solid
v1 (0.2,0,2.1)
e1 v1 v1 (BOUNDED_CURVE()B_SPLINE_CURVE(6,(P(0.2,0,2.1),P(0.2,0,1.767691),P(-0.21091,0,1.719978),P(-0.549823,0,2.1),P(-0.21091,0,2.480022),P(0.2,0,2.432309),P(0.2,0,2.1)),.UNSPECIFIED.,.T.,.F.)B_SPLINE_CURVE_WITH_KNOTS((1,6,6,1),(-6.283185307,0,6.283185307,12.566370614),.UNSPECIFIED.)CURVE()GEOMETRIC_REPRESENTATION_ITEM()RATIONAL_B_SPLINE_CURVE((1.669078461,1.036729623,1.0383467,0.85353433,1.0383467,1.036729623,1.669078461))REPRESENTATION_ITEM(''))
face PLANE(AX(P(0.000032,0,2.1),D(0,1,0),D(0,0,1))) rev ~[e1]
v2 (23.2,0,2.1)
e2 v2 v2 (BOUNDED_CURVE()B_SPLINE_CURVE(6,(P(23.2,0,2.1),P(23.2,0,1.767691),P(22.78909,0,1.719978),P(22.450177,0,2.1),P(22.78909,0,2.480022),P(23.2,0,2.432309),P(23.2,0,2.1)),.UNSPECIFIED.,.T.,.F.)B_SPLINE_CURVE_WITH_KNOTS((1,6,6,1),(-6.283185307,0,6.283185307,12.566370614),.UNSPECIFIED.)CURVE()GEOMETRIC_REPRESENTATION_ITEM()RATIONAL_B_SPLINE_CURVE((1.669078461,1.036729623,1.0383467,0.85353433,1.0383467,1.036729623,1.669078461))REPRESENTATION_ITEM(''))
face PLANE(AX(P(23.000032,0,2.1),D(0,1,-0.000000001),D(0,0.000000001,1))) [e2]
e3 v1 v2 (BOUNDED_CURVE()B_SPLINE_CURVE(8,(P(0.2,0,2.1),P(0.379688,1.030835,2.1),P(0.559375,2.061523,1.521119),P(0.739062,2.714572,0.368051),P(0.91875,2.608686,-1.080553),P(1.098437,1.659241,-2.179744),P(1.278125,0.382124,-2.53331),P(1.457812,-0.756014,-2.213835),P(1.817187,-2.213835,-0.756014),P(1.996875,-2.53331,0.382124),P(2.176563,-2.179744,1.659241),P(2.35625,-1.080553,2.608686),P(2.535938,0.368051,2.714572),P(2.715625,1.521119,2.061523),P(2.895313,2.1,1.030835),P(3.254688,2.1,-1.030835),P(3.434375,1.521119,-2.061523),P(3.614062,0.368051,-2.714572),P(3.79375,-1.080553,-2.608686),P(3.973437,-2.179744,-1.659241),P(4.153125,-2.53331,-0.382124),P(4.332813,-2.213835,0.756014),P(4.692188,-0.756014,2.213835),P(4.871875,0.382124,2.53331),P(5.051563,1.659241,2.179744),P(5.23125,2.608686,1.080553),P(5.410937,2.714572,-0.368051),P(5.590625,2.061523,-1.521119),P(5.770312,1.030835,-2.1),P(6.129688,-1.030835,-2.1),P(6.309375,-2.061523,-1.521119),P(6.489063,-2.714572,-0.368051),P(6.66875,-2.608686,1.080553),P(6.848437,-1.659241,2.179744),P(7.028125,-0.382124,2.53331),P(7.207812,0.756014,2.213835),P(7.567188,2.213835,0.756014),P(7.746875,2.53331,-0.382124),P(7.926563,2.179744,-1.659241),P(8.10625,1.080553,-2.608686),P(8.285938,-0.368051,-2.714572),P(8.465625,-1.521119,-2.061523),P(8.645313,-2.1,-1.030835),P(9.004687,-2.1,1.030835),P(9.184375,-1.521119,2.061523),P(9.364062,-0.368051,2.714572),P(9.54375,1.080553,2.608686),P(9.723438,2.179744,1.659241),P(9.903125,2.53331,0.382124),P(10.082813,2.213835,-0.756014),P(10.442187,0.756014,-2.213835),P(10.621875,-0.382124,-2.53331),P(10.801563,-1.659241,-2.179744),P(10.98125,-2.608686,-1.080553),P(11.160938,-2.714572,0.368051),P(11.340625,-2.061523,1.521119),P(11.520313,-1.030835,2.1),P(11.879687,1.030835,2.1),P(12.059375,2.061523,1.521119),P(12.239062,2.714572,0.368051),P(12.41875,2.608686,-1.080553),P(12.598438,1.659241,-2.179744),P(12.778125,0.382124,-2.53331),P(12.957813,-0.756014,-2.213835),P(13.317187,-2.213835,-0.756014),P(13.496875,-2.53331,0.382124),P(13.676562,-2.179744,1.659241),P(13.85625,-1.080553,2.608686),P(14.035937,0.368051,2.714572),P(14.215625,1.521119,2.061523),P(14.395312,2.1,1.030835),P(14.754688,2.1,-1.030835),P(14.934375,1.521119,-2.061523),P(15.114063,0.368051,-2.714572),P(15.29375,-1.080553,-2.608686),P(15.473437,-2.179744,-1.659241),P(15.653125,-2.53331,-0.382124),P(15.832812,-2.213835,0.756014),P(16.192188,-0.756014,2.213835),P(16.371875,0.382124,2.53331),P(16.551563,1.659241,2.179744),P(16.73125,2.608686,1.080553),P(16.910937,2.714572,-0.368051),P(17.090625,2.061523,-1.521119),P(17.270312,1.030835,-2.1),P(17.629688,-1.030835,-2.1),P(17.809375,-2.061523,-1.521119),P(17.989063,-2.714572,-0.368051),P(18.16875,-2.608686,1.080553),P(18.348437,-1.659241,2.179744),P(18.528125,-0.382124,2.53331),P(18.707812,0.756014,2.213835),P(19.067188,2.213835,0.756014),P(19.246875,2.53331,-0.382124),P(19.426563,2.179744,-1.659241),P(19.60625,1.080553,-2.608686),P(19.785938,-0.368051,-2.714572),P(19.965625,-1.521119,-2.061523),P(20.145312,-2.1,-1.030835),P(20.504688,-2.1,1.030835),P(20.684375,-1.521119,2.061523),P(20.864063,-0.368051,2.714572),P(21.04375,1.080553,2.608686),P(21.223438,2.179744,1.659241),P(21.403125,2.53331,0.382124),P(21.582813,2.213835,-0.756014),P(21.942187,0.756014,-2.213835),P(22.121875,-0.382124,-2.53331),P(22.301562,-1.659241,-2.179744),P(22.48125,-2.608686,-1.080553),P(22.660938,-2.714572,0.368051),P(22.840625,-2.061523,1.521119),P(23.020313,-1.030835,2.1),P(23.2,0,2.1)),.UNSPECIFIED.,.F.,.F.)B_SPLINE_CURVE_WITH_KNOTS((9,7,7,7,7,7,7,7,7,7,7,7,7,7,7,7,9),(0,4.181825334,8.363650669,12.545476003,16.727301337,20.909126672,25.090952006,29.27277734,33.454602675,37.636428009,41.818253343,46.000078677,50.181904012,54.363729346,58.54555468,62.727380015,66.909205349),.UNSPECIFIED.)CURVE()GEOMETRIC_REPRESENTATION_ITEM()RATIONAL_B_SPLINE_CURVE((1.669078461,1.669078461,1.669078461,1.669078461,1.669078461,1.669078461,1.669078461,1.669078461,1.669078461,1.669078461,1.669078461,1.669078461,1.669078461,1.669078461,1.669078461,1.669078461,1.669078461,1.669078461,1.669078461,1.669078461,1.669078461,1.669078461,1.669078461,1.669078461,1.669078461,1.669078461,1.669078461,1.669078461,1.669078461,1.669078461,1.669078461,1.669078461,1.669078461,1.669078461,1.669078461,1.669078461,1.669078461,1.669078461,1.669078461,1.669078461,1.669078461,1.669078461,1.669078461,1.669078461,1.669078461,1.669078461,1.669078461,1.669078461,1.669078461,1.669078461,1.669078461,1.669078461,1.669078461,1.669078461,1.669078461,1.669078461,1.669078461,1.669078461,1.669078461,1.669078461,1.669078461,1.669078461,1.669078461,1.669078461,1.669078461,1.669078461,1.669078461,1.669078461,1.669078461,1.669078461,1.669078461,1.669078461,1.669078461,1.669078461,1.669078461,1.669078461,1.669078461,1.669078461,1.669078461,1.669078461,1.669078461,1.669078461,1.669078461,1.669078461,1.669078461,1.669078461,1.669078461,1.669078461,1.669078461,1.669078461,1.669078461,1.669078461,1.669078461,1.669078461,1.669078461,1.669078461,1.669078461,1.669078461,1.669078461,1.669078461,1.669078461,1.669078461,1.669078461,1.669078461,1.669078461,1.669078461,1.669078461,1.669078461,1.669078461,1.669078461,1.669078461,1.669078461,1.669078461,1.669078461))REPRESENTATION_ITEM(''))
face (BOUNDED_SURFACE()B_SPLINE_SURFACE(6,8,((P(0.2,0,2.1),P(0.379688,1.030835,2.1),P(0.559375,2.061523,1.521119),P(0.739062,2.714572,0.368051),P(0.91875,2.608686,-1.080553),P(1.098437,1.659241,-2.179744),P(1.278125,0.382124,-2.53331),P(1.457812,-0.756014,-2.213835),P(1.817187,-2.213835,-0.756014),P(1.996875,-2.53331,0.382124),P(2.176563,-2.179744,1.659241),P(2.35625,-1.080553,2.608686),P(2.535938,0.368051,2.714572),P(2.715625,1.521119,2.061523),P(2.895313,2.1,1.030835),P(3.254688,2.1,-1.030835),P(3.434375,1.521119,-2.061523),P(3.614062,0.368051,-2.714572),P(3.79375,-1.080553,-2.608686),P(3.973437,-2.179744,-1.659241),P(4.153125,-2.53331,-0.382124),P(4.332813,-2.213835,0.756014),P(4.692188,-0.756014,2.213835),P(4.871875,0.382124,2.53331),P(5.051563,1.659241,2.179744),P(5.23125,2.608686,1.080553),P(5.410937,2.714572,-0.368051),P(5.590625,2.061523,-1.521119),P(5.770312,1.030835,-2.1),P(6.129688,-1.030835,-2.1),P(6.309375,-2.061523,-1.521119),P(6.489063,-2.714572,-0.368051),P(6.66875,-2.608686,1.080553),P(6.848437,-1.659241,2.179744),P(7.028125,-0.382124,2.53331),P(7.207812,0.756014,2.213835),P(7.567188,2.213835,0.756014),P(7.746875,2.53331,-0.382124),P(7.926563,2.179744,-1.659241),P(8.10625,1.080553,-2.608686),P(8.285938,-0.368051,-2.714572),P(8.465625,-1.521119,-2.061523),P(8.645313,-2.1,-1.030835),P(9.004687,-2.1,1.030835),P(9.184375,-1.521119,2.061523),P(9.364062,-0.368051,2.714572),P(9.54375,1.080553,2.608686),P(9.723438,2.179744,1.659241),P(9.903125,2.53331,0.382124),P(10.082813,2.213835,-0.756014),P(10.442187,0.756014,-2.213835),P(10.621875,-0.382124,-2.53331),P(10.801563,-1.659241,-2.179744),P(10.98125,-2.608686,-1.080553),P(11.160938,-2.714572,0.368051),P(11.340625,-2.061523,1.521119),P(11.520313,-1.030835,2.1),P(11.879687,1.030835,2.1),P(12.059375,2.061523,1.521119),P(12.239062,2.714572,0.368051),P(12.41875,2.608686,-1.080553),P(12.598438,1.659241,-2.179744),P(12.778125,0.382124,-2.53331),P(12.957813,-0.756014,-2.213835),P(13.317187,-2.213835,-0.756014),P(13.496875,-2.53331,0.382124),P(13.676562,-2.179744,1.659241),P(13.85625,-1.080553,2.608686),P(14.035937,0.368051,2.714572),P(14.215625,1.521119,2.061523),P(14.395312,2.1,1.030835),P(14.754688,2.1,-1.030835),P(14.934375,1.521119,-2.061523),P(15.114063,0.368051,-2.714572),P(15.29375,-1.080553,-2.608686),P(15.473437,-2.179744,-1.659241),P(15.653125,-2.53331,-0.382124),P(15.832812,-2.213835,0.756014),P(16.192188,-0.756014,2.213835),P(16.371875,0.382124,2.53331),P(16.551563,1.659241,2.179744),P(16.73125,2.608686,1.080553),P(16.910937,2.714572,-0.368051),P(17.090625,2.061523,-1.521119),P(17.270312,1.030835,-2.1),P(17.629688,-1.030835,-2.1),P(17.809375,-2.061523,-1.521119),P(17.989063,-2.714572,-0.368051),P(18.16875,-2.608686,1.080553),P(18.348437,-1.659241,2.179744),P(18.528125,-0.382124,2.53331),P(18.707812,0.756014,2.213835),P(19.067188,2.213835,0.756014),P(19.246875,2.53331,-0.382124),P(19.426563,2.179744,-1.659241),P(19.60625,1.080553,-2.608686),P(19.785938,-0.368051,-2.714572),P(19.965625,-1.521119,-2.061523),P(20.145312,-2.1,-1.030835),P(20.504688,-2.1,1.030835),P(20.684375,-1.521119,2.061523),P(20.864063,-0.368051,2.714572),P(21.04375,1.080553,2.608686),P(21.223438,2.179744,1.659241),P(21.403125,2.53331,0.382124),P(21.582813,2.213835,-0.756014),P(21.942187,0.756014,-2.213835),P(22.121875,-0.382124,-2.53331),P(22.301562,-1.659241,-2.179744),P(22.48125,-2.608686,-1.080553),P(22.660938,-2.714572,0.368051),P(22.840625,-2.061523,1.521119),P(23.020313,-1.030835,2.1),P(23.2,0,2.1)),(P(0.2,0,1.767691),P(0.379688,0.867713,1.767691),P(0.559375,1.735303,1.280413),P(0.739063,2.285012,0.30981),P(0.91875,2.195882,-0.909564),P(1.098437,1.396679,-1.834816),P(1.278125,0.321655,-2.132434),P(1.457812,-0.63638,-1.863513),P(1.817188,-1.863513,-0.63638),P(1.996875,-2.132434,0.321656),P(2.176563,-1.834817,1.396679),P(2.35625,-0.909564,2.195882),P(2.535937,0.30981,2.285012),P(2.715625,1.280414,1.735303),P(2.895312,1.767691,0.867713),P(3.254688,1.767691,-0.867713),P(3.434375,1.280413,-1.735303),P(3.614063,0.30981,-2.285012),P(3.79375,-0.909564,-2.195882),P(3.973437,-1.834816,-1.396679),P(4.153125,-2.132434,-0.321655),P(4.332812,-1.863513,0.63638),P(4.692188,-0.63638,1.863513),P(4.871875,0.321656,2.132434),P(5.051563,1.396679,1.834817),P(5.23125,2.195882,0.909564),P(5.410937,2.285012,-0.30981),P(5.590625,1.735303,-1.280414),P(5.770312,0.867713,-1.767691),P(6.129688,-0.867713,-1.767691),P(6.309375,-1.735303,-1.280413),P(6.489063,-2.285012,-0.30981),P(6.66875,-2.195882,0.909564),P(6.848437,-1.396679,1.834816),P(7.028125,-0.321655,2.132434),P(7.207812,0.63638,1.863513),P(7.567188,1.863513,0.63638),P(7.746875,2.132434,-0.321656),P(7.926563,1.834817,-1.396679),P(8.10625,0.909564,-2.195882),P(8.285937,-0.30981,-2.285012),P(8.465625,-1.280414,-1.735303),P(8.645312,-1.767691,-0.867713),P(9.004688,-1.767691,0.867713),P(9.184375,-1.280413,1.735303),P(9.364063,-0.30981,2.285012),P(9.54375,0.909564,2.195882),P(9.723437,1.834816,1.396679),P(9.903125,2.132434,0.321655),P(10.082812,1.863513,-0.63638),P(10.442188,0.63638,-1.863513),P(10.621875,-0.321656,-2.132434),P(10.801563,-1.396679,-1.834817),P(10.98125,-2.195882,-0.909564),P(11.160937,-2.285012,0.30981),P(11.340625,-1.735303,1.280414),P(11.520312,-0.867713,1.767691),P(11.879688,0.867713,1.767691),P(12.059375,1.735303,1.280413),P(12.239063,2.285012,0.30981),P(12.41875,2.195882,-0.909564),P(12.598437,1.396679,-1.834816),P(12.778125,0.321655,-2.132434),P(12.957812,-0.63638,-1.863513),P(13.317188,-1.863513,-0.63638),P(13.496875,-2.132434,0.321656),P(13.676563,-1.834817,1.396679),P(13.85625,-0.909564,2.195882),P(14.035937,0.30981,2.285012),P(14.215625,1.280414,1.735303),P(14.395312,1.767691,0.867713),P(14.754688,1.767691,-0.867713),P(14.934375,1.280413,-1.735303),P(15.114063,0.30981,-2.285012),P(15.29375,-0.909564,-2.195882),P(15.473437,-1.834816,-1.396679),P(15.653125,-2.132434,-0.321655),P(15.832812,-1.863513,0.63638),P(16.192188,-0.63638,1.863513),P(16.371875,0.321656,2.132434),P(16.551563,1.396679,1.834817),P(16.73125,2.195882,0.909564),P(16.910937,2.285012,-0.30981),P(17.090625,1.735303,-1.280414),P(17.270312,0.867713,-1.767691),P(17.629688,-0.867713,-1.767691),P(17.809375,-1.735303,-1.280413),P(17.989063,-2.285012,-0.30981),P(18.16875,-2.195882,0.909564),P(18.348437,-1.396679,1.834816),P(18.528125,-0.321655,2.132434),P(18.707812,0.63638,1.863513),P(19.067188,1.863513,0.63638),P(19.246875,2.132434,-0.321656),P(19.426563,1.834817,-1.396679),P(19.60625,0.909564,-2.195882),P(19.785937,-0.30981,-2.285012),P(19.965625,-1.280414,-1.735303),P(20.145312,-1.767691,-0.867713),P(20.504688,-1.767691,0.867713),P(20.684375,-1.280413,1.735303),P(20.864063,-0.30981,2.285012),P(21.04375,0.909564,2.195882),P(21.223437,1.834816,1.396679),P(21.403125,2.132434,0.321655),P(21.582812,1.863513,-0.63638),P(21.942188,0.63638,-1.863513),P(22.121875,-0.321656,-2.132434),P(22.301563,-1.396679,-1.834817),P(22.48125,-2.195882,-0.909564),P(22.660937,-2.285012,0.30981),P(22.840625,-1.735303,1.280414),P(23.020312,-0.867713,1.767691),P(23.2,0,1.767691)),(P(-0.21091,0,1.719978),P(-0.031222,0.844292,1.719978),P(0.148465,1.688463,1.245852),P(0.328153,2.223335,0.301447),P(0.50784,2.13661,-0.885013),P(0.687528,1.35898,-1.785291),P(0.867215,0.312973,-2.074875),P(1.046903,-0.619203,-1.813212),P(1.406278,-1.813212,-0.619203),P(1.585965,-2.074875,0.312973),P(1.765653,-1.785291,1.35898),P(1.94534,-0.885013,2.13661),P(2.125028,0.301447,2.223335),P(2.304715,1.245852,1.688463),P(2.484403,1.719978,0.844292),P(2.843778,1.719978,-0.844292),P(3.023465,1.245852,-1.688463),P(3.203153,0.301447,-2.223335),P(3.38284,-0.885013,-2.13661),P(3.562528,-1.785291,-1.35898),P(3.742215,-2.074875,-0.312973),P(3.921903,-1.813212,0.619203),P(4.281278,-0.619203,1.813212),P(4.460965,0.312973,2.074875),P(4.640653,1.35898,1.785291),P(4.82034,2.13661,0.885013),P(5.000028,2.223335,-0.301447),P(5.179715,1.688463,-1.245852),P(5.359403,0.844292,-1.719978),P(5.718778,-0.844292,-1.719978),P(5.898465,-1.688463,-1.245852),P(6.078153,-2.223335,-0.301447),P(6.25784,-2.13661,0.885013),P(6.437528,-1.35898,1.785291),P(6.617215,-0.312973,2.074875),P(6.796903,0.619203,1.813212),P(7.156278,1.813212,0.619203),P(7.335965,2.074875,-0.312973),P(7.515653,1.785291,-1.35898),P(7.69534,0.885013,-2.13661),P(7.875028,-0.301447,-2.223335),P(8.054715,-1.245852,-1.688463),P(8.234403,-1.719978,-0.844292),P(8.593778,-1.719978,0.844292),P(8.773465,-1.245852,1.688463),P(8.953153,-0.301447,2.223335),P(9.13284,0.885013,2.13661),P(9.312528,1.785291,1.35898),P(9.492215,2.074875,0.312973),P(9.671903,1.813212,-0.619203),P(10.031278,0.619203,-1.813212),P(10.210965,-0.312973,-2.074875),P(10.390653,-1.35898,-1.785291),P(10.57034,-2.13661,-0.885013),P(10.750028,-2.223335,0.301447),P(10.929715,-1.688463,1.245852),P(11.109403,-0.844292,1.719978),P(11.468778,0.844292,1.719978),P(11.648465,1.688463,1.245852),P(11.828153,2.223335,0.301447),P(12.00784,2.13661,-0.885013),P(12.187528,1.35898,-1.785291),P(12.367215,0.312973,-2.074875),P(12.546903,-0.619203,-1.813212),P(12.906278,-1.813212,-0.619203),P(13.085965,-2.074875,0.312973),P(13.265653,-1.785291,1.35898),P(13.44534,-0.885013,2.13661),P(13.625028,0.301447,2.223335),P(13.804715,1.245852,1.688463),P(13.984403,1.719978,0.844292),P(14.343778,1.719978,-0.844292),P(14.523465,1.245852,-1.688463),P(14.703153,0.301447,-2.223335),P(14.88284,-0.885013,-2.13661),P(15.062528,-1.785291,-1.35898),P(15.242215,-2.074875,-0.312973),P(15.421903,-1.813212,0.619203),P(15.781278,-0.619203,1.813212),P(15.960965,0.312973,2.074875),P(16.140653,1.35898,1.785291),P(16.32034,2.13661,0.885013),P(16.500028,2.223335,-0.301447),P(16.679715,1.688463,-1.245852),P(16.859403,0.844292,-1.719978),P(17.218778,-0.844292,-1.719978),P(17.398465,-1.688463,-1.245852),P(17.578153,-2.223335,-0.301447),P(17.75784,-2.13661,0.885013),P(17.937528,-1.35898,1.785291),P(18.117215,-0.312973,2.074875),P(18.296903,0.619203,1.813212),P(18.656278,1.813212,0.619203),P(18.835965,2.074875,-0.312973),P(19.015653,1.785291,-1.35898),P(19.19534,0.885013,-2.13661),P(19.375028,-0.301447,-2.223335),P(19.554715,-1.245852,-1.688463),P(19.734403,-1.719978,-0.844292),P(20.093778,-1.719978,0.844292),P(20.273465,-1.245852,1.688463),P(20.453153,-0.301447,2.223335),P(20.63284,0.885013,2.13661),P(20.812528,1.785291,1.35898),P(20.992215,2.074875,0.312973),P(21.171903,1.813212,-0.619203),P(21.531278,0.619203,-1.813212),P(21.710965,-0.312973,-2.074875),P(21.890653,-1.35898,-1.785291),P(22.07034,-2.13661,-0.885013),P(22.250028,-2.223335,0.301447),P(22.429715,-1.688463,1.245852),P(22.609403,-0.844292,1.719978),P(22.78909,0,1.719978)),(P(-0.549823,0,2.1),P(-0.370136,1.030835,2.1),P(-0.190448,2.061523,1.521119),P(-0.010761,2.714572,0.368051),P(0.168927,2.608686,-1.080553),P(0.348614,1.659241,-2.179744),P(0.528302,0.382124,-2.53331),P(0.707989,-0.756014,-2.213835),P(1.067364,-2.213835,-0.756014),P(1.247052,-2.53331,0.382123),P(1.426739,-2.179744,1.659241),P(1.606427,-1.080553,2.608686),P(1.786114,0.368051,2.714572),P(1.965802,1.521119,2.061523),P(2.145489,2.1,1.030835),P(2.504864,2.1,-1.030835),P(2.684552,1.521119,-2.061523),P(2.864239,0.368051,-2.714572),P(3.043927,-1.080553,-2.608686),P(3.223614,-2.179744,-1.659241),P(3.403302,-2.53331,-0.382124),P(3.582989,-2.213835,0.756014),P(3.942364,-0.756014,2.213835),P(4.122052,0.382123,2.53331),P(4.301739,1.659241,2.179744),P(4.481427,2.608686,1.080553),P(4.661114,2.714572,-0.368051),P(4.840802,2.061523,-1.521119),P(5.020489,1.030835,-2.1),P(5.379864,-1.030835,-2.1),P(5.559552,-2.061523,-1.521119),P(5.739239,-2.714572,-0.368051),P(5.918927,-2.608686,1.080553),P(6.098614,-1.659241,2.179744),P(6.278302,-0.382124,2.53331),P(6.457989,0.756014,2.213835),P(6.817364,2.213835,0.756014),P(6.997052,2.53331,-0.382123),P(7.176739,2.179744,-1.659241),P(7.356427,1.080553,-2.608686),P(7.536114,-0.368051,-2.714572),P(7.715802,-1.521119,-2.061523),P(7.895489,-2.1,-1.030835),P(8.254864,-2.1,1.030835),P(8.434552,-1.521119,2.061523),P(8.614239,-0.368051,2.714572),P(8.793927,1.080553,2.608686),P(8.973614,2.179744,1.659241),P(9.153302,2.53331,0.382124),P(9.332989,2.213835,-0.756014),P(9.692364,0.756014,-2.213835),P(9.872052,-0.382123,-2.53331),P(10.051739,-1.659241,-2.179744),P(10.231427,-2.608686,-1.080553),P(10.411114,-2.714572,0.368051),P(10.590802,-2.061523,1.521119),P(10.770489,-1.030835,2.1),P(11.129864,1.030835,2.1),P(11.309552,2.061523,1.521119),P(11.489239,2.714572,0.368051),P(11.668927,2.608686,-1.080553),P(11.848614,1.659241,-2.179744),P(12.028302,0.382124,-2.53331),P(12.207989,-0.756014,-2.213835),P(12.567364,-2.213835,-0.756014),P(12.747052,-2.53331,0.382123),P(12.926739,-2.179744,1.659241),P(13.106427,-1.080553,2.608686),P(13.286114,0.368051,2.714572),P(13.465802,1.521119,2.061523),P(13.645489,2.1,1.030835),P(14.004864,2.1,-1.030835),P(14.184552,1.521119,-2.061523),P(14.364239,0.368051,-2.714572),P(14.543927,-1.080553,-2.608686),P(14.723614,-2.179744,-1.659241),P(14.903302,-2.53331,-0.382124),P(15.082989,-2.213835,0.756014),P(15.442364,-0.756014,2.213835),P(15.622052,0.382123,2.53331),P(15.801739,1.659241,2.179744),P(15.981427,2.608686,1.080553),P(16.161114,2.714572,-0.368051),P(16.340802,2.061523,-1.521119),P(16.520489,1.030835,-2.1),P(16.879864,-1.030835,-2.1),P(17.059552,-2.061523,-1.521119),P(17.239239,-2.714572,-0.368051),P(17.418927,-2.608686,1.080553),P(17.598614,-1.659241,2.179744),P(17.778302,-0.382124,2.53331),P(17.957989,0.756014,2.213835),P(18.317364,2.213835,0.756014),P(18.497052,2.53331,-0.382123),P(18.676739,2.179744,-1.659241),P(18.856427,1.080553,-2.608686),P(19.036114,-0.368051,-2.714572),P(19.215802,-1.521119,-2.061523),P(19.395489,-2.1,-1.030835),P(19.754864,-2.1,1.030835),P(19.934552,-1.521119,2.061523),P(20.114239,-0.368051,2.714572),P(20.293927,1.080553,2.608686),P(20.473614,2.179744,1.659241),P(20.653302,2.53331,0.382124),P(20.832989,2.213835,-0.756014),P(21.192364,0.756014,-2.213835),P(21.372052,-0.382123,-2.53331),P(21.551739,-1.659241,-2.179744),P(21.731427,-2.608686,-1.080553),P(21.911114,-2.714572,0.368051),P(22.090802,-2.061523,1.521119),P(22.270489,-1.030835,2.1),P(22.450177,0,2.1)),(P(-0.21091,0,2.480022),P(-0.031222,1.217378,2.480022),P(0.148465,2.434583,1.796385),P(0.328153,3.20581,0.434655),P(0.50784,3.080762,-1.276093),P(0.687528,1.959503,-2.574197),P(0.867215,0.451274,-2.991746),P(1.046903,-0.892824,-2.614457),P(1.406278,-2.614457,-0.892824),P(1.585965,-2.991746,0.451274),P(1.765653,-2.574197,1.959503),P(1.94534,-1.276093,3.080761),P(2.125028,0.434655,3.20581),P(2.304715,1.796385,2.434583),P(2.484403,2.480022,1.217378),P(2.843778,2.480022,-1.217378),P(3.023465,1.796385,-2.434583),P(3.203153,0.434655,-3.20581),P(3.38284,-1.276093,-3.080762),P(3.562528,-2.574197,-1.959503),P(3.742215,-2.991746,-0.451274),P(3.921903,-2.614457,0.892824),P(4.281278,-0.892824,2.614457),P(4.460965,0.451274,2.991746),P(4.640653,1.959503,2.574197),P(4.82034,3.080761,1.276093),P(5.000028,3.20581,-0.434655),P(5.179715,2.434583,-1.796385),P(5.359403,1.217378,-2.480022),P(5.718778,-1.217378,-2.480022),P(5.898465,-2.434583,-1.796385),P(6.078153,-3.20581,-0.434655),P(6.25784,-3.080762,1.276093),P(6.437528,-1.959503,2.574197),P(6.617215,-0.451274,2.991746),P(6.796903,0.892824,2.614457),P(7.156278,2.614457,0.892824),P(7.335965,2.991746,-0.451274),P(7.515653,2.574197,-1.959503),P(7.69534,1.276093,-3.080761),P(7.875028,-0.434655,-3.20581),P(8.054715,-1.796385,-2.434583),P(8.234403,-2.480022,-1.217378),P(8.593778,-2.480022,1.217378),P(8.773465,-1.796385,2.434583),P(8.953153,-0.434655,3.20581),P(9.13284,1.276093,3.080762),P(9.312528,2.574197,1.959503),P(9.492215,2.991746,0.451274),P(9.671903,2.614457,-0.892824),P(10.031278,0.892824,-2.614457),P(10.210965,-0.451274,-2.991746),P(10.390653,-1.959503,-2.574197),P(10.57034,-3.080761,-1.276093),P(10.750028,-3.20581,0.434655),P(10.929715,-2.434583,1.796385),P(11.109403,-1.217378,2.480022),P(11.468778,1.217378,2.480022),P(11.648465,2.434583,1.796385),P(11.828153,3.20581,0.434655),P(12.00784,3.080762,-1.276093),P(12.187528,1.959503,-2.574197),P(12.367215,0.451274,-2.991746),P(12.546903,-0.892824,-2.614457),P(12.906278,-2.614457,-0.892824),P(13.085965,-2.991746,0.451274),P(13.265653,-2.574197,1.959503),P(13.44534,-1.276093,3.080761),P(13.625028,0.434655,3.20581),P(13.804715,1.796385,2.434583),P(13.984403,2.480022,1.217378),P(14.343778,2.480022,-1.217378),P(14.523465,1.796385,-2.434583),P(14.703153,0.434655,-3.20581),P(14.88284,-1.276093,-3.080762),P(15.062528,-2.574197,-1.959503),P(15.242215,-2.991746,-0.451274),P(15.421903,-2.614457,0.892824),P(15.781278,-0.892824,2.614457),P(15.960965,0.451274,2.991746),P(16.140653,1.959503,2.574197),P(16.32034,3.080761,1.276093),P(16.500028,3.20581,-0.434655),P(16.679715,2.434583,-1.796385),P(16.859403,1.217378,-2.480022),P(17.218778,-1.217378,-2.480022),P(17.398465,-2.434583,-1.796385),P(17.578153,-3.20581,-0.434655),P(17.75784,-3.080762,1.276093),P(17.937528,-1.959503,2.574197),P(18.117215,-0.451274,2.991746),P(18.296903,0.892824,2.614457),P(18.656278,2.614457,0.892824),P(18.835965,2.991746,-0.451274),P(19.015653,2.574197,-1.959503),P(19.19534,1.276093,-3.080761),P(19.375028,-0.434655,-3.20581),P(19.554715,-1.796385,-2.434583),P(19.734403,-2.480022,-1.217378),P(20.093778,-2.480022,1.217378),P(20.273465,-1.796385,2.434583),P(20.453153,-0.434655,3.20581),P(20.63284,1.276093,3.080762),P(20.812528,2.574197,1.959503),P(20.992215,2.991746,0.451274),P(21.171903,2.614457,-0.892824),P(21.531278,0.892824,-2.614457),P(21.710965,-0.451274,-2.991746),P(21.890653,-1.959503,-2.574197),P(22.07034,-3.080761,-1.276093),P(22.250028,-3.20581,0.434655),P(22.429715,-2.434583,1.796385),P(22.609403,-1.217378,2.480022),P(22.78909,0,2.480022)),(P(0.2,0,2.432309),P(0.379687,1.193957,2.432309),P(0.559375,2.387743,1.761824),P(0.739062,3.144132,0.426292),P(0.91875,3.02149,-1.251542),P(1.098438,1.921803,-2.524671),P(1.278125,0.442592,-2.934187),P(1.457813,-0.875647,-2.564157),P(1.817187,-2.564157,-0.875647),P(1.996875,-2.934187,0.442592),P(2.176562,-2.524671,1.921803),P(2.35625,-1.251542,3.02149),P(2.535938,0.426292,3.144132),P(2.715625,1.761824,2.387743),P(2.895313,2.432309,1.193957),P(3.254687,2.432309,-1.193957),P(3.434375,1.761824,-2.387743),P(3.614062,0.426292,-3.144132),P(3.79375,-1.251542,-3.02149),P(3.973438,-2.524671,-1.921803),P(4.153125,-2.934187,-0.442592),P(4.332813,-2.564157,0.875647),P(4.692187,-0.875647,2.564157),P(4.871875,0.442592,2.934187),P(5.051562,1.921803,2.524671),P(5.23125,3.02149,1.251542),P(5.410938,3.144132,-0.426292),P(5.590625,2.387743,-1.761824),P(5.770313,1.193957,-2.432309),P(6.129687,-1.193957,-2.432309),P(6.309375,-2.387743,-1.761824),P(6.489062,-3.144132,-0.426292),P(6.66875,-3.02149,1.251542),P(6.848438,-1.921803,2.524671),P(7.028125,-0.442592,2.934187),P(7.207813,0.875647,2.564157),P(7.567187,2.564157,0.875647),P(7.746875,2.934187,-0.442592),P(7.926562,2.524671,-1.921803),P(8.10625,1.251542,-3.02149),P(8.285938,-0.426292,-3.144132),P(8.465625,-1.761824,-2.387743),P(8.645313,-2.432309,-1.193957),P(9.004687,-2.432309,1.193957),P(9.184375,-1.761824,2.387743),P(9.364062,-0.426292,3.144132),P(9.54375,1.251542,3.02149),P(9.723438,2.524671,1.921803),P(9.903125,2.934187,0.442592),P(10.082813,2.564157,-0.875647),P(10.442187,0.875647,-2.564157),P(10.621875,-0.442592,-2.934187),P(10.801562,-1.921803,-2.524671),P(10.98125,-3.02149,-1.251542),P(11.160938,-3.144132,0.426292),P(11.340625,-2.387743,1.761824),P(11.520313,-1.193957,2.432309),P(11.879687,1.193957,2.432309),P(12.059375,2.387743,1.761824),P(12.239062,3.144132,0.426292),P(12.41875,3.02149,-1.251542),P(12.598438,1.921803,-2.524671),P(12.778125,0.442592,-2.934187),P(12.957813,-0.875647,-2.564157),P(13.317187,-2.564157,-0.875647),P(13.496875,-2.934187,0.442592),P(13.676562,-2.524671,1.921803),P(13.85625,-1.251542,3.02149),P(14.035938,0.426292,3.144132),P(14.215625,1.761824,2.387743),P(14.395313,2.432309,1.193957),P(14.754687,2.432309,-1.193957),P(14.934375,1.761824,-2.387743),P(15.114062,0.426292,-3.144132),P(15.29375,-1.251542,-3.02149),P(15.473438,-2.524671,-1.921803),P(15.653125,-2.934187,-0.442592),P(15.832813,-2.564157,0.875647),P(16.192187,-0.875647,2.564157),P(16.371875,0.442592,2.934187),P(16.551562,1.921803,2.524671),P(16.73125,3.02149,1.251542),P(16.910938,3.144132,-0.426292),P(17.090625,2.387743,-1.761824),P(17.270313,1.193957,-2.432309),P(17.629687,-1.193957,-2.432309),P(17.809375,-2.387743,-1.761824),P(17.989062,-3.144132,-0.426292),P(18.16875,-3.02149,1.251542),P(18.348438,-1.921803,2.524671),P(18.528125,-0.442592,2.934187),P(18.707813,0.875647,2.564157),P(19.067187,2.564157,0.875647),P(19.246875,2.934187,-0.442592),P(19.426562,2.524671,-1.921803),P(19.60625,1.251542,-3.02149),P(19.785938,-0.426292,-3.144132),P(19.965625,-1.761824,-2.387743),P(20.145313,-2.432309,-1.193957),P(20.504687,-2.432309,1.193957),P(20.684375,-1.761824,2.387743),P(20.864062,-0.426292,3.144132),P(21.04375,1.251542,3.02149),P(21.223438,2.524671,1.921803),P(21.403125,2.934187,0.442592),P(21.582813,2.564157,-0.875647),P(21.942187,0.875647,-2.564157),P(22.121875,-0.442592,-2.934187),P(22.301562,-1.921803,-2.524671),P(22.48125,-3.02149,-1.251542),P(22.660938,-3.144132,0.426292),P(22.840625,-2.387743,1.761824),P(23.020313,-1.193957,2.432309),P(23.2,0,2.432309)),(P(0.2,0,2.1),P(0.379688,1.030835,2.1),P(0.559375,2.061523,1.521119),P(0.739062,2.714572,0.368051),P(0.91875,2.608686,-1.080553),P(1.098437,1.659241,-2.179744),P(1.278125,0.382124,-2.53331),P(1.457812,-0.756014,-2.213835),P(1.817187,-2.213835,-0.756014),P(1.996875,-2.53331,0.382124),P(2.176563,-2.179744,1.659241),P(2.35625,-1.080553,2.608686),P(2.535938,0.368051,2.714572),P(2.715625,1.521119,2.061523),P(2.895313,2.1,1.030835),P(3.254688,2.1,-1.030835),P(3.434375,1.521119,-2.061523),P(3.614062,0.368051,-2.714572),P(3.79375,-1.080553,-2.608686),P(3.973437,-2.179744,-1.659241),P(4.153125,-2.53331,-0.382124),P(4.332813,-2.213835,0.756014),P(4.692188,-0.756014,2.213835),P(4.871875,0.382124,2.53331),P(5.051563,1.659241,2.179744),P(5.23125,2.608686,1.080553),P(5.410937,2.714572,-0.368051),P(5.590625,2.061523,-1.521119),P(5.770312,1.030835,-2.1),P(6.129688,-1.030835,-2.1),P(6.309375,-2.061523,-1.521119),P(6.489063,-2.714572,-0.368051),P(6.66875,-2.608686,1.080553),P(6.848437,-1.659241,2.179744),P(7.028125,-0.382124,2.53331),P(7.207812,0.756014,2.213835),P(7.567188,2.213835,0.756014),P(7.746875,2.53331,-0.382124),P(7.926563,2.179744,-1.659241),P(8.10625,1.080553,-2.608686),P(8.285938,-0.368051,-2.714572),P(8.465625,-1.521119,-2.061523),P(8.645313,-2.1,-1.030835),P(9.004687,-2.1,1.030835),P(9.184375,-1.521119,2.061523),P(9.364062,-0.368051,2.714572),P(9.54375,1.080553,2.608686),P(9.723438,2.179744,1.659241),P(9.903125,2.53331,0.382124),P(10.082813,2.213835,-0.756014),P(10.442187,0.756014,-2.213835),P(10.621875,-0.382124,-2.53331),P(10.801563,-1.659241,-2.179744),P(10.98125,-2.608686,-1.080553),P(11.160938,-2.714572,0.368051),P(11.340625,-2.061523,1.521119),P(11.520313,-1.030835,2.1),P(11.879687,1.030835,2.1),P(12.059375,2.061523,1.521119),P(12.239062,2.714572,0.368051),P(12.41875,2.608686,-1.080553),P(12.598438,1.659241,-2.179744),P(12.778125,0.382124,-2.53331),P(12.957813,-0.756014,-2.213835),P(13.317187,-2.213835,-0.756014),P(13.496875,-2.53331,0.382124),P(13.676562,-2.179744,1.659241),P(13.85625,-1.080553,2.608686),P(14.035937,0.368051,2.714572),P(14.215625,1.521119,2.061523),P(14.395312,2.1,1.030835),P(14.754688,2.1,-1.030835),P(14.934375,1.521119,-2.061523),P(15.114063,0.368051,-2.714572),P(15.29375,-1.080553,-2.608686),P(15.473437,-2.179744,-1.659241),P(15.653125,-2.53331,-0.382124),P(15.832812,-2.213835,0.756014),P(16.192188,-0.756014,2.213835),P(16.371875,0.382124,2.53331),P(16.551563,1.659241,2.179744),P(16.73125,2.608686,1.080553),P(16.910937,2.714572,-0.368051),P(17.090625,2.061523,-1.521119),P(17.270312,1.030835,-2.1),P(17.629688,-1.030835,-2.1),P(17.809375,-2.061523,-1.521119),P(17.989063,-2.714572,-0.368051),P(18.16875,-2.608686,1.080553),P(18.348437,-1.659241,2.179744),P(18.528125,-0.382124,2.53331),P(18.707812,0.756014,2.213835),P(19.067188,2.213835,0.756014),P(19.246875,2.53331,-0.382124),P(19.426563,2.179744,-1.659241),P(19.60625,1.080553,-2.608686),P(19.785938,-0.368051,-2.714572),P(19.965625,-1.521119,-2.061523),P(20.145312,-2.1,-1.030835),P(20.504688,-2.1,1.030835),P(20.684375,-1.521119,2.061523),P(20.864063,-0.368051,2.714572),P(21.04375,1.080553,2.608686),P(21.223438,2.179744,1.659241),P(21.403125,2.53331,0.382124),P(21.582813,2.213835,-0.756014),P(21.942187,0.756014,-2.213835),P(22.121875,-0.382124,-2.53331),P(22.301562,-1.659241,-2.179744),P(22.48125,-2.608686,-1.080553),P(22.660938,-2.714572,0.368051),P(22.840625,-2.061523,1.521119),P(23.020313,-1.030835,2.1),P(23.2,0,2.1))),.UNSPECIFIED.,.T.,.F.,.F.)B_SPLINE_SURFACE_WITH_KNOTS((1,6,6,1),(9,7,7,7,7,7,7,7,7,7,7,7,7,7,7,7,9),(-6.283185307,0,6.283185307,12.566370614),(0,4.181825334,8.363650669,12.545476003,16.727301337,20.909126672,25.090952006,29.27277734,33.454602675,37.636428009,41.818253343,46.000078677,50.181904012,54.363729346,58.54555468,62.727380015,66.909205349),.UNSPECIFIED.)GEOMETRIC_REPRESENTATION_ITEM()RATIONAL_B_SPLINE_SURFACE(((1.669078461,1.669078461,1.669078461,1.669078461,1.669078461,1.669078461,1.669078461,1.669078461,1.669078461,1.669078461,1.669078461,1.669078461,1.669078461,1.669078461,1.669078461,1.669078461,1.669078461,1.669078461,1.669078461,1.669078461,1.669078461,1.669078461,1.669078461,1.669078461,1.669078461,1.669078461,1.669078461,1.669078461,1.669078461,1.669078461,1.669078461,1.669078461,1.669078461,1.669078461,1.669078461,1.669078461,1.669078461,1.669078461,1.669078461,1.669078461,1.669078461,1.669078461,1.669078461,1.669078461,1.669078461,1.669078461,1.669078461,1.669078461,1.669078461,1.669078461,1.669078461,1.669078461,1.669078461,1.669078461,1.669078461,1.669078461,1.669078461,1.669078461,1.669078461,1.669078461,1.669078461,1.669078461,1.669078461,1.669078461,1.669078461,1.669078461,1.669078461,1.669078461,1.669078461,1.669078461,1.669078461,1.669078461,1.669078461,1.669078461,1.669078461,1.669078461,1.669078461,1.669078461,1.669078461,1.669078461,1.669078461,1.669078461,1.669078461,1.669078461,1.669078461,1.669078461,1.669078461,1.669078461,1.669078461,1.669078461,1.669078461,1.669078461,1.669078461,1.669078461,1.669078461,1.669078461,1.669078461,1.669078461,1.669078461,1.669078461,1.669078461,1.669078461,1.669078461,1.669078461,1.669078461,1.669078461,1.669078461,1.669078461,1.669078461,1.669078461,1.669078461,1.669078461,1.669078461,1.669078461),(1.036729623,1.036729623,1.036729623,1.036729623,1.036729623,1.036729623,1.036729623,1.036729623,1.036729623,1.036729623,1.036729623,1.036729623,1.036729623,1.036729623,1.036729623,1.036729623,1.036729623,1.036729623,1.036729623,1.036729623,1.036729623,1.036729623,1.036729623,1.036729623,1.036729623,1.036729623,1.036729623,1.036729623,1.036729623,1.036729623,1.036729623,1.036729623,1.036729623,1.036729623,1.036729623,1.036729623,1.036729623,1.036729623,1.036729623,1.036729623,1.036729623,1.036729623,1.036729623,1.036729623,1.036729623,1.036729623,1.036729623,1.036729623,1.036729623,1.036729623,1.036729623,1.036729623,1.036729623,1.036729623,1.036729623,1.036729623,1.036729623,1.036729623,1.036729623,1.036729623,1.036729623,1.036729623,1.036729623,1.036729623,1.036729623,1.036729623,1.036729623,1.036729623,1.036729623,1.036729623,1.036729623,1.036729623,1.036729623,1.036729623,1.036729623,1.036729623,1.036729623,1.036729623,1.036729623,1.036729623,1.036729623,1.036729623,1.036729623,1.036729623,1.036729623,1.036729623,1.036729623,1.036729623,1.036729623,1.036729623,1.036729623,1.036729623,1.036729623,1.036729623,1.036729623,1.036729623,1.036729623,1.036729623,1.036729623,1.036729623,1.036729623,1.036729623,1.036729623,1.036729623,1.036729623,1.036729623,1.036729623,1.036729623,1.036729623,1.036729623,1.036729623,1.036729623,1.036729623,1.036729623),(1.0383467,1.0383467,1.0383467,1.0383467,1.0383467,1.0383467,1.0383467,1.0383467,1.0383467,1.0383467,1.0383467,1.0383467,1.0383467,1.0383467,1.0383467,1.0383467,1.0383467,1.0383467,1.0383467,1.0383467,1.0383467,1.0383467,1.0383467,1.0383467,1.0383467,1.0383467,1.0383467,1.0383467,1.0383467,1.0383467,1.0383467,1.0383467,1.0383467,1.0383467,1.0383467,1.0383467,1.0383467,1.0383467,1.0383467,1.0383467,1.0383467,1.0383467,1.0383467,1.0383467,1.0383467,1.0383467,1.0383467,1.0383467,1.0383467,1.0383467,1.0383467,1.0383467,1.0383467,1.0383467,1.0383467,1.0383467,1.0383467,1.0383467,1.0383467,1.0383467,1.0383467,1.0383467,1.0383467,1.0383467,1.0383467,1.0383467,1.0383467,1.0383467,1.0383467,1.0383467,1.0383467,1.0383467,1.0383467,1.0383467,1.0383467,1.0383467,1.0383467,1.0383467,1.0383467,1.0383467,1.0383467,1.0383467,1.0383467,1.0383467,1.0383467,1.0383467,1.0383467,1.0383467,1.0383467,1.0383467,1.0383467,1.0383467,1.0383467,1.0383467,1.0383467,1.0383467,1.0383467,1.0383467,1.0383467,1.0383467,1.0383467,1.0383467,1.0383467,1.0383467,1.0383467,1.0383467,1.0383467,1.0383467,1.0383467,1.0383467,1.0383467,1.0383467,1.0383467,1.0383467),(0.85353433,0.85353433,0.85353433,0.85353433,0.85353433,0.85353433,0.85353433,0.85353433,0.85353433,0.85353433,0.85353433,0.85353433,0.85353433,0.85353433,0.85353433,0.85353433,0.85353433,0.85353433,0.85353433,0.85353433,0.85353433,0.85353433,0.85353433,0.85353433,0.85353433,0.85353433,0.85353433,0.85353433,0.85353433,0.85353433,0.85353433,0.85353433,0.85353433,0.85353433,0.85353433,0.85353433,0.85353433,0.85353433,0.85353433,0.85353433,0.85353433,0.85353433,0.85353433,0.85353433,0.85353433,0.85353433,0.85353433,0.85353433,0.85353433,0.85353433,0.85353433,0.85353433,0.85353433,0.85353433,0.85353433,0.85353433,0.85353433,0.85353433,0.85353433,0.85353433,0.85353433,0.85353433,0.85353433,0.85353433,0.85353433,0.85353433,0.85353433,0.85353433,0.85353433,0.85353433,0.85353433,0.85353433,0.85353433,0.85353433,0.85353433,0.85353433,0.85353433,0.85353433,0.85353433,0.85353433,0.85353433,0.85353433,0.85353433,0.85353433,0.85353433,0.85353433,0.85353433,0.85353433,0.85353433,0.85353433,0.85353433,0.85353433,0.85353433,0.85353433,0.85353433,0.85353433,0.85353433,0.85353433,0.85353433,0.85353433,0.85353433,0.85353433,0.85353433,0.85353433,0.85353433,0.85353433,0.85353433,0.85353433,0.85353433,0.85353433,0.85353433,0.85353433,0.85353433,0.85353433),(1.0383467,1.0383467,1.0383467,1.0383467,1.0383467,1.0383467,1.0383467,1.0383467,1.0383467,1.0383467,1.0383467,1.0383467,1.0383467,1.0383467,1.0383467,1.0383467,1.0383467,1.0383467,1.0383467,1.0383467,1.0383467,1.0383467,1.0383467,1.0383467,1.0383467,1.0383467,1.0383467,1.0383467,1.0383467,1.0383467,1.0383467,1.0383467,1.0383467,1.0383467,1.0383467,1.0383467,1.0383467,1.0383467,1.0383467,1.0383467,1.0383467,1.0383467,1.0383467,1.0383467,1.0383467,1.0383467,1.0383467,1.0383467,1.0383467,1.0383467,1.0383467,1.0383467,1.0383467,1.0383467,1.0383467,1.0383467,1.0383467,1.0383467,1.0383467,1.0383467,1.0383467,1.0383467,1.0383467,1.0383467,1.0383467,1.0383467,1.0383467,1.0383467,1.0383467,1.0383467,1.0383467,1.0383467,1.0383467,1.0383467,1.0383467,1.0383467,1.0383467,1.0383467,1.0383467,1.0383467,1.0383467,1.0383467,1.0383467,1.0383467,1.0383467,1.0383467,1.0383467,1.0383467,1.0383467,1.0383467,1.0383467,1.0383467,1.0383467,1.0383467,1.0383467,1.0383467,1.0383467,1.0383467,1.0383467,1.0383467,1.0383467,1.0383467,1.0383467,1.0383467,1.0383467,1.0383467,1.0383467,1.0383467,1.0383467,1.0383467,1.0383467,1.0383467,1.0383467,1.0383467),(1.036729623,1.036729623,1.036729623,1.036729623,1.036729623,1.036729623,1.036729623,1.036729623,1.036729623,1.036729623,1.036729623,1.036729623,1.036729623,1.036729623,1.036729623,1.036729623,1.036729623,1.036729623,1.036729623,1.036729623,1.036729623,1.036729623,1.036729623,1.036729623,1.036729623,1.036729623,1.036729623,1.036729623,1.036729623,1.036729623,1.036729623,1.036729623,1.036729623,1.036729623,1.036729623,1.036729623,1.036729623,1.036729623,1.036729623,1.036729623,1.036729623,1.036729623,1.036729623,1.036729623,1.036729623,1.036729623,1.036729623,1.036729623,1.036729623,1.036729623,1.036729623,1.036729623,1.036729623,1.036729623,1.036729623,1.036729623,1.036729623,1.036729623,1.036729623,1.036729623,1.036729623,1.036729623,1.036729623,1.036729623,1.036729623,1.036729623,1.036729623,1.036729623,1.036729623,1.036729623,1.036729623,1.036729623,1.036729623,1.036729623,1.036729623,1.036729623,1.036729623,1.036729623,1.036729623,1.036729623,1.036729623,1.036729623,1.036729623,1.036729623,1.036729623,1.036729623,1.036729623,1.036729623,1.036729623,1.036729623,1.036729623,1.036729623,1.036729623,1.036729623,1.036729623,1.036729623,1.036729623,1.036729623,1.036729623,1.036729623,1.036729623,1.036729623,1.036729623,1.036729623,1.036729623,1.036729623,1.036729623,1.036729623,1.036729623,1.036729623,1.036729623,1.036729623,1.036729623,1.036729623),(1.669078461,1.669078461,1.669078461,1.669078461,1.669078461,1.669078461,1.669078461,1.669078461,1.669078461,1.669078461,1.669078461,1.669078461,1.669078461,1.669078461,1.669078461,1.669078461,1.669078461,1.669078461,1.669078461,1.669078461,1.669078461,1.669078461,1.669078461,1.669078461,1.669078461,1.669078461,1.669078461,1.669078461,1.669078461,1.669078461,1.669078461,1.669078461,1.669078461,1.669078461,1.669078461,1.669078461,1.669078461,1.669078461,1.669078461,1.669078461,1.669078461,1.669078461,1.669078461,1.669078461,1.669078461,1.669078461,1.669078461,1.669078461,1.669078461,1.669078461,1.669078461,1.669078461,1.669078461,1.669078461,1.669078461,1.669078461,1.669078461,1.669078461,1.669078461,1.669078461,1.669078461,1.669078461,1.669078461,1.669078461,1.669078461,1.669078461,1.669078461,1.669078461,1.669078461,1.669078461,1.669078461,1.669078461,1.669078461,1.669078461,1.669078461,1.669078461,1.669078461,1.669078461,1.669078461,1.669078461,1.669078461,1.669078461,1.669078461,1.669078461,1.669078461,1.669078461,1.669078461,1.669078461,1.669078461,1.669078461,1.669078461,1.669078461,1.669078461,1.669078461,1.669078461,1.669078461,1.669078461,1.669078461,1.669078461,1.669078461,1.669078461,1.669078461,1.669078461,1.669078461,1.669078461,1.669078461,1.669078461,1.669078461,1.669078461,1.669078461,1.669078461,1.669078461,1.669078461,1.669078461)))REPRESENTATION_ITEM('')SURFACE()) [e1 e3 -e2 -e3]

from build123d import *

# Parameters (mm, degrees)
SWEEP1_PITCH  = 2.3
SWEEP1_HEIGHT = 23
SWEEP1_RADIUS = 2.1
SKETCH2_R     = 0.2


with BuildPart() as part:
    # Sweep1: sweep along a helix
    with BuildLine() as sweep1_path:
        Helix(SWEEP1_PITCH, SWEEP1_HEIGHT, SWEEP1_RADIUS, center=(0, 0, 0), direction=(1, 0, 0), lefthand=True)
    # Sketch2 → Sweep1 (sweep)
    with BuildSketch(Plane(origin=(0, 0, 0), x_dir=(1, 0, 0), z_dir=(0, 1, 0))):
        with Locations((0, -2.1)):
            Circle(SKETCH2_R)
    sweep(path=sweep1_path.line, is_frenet=True)


solid = part.part
